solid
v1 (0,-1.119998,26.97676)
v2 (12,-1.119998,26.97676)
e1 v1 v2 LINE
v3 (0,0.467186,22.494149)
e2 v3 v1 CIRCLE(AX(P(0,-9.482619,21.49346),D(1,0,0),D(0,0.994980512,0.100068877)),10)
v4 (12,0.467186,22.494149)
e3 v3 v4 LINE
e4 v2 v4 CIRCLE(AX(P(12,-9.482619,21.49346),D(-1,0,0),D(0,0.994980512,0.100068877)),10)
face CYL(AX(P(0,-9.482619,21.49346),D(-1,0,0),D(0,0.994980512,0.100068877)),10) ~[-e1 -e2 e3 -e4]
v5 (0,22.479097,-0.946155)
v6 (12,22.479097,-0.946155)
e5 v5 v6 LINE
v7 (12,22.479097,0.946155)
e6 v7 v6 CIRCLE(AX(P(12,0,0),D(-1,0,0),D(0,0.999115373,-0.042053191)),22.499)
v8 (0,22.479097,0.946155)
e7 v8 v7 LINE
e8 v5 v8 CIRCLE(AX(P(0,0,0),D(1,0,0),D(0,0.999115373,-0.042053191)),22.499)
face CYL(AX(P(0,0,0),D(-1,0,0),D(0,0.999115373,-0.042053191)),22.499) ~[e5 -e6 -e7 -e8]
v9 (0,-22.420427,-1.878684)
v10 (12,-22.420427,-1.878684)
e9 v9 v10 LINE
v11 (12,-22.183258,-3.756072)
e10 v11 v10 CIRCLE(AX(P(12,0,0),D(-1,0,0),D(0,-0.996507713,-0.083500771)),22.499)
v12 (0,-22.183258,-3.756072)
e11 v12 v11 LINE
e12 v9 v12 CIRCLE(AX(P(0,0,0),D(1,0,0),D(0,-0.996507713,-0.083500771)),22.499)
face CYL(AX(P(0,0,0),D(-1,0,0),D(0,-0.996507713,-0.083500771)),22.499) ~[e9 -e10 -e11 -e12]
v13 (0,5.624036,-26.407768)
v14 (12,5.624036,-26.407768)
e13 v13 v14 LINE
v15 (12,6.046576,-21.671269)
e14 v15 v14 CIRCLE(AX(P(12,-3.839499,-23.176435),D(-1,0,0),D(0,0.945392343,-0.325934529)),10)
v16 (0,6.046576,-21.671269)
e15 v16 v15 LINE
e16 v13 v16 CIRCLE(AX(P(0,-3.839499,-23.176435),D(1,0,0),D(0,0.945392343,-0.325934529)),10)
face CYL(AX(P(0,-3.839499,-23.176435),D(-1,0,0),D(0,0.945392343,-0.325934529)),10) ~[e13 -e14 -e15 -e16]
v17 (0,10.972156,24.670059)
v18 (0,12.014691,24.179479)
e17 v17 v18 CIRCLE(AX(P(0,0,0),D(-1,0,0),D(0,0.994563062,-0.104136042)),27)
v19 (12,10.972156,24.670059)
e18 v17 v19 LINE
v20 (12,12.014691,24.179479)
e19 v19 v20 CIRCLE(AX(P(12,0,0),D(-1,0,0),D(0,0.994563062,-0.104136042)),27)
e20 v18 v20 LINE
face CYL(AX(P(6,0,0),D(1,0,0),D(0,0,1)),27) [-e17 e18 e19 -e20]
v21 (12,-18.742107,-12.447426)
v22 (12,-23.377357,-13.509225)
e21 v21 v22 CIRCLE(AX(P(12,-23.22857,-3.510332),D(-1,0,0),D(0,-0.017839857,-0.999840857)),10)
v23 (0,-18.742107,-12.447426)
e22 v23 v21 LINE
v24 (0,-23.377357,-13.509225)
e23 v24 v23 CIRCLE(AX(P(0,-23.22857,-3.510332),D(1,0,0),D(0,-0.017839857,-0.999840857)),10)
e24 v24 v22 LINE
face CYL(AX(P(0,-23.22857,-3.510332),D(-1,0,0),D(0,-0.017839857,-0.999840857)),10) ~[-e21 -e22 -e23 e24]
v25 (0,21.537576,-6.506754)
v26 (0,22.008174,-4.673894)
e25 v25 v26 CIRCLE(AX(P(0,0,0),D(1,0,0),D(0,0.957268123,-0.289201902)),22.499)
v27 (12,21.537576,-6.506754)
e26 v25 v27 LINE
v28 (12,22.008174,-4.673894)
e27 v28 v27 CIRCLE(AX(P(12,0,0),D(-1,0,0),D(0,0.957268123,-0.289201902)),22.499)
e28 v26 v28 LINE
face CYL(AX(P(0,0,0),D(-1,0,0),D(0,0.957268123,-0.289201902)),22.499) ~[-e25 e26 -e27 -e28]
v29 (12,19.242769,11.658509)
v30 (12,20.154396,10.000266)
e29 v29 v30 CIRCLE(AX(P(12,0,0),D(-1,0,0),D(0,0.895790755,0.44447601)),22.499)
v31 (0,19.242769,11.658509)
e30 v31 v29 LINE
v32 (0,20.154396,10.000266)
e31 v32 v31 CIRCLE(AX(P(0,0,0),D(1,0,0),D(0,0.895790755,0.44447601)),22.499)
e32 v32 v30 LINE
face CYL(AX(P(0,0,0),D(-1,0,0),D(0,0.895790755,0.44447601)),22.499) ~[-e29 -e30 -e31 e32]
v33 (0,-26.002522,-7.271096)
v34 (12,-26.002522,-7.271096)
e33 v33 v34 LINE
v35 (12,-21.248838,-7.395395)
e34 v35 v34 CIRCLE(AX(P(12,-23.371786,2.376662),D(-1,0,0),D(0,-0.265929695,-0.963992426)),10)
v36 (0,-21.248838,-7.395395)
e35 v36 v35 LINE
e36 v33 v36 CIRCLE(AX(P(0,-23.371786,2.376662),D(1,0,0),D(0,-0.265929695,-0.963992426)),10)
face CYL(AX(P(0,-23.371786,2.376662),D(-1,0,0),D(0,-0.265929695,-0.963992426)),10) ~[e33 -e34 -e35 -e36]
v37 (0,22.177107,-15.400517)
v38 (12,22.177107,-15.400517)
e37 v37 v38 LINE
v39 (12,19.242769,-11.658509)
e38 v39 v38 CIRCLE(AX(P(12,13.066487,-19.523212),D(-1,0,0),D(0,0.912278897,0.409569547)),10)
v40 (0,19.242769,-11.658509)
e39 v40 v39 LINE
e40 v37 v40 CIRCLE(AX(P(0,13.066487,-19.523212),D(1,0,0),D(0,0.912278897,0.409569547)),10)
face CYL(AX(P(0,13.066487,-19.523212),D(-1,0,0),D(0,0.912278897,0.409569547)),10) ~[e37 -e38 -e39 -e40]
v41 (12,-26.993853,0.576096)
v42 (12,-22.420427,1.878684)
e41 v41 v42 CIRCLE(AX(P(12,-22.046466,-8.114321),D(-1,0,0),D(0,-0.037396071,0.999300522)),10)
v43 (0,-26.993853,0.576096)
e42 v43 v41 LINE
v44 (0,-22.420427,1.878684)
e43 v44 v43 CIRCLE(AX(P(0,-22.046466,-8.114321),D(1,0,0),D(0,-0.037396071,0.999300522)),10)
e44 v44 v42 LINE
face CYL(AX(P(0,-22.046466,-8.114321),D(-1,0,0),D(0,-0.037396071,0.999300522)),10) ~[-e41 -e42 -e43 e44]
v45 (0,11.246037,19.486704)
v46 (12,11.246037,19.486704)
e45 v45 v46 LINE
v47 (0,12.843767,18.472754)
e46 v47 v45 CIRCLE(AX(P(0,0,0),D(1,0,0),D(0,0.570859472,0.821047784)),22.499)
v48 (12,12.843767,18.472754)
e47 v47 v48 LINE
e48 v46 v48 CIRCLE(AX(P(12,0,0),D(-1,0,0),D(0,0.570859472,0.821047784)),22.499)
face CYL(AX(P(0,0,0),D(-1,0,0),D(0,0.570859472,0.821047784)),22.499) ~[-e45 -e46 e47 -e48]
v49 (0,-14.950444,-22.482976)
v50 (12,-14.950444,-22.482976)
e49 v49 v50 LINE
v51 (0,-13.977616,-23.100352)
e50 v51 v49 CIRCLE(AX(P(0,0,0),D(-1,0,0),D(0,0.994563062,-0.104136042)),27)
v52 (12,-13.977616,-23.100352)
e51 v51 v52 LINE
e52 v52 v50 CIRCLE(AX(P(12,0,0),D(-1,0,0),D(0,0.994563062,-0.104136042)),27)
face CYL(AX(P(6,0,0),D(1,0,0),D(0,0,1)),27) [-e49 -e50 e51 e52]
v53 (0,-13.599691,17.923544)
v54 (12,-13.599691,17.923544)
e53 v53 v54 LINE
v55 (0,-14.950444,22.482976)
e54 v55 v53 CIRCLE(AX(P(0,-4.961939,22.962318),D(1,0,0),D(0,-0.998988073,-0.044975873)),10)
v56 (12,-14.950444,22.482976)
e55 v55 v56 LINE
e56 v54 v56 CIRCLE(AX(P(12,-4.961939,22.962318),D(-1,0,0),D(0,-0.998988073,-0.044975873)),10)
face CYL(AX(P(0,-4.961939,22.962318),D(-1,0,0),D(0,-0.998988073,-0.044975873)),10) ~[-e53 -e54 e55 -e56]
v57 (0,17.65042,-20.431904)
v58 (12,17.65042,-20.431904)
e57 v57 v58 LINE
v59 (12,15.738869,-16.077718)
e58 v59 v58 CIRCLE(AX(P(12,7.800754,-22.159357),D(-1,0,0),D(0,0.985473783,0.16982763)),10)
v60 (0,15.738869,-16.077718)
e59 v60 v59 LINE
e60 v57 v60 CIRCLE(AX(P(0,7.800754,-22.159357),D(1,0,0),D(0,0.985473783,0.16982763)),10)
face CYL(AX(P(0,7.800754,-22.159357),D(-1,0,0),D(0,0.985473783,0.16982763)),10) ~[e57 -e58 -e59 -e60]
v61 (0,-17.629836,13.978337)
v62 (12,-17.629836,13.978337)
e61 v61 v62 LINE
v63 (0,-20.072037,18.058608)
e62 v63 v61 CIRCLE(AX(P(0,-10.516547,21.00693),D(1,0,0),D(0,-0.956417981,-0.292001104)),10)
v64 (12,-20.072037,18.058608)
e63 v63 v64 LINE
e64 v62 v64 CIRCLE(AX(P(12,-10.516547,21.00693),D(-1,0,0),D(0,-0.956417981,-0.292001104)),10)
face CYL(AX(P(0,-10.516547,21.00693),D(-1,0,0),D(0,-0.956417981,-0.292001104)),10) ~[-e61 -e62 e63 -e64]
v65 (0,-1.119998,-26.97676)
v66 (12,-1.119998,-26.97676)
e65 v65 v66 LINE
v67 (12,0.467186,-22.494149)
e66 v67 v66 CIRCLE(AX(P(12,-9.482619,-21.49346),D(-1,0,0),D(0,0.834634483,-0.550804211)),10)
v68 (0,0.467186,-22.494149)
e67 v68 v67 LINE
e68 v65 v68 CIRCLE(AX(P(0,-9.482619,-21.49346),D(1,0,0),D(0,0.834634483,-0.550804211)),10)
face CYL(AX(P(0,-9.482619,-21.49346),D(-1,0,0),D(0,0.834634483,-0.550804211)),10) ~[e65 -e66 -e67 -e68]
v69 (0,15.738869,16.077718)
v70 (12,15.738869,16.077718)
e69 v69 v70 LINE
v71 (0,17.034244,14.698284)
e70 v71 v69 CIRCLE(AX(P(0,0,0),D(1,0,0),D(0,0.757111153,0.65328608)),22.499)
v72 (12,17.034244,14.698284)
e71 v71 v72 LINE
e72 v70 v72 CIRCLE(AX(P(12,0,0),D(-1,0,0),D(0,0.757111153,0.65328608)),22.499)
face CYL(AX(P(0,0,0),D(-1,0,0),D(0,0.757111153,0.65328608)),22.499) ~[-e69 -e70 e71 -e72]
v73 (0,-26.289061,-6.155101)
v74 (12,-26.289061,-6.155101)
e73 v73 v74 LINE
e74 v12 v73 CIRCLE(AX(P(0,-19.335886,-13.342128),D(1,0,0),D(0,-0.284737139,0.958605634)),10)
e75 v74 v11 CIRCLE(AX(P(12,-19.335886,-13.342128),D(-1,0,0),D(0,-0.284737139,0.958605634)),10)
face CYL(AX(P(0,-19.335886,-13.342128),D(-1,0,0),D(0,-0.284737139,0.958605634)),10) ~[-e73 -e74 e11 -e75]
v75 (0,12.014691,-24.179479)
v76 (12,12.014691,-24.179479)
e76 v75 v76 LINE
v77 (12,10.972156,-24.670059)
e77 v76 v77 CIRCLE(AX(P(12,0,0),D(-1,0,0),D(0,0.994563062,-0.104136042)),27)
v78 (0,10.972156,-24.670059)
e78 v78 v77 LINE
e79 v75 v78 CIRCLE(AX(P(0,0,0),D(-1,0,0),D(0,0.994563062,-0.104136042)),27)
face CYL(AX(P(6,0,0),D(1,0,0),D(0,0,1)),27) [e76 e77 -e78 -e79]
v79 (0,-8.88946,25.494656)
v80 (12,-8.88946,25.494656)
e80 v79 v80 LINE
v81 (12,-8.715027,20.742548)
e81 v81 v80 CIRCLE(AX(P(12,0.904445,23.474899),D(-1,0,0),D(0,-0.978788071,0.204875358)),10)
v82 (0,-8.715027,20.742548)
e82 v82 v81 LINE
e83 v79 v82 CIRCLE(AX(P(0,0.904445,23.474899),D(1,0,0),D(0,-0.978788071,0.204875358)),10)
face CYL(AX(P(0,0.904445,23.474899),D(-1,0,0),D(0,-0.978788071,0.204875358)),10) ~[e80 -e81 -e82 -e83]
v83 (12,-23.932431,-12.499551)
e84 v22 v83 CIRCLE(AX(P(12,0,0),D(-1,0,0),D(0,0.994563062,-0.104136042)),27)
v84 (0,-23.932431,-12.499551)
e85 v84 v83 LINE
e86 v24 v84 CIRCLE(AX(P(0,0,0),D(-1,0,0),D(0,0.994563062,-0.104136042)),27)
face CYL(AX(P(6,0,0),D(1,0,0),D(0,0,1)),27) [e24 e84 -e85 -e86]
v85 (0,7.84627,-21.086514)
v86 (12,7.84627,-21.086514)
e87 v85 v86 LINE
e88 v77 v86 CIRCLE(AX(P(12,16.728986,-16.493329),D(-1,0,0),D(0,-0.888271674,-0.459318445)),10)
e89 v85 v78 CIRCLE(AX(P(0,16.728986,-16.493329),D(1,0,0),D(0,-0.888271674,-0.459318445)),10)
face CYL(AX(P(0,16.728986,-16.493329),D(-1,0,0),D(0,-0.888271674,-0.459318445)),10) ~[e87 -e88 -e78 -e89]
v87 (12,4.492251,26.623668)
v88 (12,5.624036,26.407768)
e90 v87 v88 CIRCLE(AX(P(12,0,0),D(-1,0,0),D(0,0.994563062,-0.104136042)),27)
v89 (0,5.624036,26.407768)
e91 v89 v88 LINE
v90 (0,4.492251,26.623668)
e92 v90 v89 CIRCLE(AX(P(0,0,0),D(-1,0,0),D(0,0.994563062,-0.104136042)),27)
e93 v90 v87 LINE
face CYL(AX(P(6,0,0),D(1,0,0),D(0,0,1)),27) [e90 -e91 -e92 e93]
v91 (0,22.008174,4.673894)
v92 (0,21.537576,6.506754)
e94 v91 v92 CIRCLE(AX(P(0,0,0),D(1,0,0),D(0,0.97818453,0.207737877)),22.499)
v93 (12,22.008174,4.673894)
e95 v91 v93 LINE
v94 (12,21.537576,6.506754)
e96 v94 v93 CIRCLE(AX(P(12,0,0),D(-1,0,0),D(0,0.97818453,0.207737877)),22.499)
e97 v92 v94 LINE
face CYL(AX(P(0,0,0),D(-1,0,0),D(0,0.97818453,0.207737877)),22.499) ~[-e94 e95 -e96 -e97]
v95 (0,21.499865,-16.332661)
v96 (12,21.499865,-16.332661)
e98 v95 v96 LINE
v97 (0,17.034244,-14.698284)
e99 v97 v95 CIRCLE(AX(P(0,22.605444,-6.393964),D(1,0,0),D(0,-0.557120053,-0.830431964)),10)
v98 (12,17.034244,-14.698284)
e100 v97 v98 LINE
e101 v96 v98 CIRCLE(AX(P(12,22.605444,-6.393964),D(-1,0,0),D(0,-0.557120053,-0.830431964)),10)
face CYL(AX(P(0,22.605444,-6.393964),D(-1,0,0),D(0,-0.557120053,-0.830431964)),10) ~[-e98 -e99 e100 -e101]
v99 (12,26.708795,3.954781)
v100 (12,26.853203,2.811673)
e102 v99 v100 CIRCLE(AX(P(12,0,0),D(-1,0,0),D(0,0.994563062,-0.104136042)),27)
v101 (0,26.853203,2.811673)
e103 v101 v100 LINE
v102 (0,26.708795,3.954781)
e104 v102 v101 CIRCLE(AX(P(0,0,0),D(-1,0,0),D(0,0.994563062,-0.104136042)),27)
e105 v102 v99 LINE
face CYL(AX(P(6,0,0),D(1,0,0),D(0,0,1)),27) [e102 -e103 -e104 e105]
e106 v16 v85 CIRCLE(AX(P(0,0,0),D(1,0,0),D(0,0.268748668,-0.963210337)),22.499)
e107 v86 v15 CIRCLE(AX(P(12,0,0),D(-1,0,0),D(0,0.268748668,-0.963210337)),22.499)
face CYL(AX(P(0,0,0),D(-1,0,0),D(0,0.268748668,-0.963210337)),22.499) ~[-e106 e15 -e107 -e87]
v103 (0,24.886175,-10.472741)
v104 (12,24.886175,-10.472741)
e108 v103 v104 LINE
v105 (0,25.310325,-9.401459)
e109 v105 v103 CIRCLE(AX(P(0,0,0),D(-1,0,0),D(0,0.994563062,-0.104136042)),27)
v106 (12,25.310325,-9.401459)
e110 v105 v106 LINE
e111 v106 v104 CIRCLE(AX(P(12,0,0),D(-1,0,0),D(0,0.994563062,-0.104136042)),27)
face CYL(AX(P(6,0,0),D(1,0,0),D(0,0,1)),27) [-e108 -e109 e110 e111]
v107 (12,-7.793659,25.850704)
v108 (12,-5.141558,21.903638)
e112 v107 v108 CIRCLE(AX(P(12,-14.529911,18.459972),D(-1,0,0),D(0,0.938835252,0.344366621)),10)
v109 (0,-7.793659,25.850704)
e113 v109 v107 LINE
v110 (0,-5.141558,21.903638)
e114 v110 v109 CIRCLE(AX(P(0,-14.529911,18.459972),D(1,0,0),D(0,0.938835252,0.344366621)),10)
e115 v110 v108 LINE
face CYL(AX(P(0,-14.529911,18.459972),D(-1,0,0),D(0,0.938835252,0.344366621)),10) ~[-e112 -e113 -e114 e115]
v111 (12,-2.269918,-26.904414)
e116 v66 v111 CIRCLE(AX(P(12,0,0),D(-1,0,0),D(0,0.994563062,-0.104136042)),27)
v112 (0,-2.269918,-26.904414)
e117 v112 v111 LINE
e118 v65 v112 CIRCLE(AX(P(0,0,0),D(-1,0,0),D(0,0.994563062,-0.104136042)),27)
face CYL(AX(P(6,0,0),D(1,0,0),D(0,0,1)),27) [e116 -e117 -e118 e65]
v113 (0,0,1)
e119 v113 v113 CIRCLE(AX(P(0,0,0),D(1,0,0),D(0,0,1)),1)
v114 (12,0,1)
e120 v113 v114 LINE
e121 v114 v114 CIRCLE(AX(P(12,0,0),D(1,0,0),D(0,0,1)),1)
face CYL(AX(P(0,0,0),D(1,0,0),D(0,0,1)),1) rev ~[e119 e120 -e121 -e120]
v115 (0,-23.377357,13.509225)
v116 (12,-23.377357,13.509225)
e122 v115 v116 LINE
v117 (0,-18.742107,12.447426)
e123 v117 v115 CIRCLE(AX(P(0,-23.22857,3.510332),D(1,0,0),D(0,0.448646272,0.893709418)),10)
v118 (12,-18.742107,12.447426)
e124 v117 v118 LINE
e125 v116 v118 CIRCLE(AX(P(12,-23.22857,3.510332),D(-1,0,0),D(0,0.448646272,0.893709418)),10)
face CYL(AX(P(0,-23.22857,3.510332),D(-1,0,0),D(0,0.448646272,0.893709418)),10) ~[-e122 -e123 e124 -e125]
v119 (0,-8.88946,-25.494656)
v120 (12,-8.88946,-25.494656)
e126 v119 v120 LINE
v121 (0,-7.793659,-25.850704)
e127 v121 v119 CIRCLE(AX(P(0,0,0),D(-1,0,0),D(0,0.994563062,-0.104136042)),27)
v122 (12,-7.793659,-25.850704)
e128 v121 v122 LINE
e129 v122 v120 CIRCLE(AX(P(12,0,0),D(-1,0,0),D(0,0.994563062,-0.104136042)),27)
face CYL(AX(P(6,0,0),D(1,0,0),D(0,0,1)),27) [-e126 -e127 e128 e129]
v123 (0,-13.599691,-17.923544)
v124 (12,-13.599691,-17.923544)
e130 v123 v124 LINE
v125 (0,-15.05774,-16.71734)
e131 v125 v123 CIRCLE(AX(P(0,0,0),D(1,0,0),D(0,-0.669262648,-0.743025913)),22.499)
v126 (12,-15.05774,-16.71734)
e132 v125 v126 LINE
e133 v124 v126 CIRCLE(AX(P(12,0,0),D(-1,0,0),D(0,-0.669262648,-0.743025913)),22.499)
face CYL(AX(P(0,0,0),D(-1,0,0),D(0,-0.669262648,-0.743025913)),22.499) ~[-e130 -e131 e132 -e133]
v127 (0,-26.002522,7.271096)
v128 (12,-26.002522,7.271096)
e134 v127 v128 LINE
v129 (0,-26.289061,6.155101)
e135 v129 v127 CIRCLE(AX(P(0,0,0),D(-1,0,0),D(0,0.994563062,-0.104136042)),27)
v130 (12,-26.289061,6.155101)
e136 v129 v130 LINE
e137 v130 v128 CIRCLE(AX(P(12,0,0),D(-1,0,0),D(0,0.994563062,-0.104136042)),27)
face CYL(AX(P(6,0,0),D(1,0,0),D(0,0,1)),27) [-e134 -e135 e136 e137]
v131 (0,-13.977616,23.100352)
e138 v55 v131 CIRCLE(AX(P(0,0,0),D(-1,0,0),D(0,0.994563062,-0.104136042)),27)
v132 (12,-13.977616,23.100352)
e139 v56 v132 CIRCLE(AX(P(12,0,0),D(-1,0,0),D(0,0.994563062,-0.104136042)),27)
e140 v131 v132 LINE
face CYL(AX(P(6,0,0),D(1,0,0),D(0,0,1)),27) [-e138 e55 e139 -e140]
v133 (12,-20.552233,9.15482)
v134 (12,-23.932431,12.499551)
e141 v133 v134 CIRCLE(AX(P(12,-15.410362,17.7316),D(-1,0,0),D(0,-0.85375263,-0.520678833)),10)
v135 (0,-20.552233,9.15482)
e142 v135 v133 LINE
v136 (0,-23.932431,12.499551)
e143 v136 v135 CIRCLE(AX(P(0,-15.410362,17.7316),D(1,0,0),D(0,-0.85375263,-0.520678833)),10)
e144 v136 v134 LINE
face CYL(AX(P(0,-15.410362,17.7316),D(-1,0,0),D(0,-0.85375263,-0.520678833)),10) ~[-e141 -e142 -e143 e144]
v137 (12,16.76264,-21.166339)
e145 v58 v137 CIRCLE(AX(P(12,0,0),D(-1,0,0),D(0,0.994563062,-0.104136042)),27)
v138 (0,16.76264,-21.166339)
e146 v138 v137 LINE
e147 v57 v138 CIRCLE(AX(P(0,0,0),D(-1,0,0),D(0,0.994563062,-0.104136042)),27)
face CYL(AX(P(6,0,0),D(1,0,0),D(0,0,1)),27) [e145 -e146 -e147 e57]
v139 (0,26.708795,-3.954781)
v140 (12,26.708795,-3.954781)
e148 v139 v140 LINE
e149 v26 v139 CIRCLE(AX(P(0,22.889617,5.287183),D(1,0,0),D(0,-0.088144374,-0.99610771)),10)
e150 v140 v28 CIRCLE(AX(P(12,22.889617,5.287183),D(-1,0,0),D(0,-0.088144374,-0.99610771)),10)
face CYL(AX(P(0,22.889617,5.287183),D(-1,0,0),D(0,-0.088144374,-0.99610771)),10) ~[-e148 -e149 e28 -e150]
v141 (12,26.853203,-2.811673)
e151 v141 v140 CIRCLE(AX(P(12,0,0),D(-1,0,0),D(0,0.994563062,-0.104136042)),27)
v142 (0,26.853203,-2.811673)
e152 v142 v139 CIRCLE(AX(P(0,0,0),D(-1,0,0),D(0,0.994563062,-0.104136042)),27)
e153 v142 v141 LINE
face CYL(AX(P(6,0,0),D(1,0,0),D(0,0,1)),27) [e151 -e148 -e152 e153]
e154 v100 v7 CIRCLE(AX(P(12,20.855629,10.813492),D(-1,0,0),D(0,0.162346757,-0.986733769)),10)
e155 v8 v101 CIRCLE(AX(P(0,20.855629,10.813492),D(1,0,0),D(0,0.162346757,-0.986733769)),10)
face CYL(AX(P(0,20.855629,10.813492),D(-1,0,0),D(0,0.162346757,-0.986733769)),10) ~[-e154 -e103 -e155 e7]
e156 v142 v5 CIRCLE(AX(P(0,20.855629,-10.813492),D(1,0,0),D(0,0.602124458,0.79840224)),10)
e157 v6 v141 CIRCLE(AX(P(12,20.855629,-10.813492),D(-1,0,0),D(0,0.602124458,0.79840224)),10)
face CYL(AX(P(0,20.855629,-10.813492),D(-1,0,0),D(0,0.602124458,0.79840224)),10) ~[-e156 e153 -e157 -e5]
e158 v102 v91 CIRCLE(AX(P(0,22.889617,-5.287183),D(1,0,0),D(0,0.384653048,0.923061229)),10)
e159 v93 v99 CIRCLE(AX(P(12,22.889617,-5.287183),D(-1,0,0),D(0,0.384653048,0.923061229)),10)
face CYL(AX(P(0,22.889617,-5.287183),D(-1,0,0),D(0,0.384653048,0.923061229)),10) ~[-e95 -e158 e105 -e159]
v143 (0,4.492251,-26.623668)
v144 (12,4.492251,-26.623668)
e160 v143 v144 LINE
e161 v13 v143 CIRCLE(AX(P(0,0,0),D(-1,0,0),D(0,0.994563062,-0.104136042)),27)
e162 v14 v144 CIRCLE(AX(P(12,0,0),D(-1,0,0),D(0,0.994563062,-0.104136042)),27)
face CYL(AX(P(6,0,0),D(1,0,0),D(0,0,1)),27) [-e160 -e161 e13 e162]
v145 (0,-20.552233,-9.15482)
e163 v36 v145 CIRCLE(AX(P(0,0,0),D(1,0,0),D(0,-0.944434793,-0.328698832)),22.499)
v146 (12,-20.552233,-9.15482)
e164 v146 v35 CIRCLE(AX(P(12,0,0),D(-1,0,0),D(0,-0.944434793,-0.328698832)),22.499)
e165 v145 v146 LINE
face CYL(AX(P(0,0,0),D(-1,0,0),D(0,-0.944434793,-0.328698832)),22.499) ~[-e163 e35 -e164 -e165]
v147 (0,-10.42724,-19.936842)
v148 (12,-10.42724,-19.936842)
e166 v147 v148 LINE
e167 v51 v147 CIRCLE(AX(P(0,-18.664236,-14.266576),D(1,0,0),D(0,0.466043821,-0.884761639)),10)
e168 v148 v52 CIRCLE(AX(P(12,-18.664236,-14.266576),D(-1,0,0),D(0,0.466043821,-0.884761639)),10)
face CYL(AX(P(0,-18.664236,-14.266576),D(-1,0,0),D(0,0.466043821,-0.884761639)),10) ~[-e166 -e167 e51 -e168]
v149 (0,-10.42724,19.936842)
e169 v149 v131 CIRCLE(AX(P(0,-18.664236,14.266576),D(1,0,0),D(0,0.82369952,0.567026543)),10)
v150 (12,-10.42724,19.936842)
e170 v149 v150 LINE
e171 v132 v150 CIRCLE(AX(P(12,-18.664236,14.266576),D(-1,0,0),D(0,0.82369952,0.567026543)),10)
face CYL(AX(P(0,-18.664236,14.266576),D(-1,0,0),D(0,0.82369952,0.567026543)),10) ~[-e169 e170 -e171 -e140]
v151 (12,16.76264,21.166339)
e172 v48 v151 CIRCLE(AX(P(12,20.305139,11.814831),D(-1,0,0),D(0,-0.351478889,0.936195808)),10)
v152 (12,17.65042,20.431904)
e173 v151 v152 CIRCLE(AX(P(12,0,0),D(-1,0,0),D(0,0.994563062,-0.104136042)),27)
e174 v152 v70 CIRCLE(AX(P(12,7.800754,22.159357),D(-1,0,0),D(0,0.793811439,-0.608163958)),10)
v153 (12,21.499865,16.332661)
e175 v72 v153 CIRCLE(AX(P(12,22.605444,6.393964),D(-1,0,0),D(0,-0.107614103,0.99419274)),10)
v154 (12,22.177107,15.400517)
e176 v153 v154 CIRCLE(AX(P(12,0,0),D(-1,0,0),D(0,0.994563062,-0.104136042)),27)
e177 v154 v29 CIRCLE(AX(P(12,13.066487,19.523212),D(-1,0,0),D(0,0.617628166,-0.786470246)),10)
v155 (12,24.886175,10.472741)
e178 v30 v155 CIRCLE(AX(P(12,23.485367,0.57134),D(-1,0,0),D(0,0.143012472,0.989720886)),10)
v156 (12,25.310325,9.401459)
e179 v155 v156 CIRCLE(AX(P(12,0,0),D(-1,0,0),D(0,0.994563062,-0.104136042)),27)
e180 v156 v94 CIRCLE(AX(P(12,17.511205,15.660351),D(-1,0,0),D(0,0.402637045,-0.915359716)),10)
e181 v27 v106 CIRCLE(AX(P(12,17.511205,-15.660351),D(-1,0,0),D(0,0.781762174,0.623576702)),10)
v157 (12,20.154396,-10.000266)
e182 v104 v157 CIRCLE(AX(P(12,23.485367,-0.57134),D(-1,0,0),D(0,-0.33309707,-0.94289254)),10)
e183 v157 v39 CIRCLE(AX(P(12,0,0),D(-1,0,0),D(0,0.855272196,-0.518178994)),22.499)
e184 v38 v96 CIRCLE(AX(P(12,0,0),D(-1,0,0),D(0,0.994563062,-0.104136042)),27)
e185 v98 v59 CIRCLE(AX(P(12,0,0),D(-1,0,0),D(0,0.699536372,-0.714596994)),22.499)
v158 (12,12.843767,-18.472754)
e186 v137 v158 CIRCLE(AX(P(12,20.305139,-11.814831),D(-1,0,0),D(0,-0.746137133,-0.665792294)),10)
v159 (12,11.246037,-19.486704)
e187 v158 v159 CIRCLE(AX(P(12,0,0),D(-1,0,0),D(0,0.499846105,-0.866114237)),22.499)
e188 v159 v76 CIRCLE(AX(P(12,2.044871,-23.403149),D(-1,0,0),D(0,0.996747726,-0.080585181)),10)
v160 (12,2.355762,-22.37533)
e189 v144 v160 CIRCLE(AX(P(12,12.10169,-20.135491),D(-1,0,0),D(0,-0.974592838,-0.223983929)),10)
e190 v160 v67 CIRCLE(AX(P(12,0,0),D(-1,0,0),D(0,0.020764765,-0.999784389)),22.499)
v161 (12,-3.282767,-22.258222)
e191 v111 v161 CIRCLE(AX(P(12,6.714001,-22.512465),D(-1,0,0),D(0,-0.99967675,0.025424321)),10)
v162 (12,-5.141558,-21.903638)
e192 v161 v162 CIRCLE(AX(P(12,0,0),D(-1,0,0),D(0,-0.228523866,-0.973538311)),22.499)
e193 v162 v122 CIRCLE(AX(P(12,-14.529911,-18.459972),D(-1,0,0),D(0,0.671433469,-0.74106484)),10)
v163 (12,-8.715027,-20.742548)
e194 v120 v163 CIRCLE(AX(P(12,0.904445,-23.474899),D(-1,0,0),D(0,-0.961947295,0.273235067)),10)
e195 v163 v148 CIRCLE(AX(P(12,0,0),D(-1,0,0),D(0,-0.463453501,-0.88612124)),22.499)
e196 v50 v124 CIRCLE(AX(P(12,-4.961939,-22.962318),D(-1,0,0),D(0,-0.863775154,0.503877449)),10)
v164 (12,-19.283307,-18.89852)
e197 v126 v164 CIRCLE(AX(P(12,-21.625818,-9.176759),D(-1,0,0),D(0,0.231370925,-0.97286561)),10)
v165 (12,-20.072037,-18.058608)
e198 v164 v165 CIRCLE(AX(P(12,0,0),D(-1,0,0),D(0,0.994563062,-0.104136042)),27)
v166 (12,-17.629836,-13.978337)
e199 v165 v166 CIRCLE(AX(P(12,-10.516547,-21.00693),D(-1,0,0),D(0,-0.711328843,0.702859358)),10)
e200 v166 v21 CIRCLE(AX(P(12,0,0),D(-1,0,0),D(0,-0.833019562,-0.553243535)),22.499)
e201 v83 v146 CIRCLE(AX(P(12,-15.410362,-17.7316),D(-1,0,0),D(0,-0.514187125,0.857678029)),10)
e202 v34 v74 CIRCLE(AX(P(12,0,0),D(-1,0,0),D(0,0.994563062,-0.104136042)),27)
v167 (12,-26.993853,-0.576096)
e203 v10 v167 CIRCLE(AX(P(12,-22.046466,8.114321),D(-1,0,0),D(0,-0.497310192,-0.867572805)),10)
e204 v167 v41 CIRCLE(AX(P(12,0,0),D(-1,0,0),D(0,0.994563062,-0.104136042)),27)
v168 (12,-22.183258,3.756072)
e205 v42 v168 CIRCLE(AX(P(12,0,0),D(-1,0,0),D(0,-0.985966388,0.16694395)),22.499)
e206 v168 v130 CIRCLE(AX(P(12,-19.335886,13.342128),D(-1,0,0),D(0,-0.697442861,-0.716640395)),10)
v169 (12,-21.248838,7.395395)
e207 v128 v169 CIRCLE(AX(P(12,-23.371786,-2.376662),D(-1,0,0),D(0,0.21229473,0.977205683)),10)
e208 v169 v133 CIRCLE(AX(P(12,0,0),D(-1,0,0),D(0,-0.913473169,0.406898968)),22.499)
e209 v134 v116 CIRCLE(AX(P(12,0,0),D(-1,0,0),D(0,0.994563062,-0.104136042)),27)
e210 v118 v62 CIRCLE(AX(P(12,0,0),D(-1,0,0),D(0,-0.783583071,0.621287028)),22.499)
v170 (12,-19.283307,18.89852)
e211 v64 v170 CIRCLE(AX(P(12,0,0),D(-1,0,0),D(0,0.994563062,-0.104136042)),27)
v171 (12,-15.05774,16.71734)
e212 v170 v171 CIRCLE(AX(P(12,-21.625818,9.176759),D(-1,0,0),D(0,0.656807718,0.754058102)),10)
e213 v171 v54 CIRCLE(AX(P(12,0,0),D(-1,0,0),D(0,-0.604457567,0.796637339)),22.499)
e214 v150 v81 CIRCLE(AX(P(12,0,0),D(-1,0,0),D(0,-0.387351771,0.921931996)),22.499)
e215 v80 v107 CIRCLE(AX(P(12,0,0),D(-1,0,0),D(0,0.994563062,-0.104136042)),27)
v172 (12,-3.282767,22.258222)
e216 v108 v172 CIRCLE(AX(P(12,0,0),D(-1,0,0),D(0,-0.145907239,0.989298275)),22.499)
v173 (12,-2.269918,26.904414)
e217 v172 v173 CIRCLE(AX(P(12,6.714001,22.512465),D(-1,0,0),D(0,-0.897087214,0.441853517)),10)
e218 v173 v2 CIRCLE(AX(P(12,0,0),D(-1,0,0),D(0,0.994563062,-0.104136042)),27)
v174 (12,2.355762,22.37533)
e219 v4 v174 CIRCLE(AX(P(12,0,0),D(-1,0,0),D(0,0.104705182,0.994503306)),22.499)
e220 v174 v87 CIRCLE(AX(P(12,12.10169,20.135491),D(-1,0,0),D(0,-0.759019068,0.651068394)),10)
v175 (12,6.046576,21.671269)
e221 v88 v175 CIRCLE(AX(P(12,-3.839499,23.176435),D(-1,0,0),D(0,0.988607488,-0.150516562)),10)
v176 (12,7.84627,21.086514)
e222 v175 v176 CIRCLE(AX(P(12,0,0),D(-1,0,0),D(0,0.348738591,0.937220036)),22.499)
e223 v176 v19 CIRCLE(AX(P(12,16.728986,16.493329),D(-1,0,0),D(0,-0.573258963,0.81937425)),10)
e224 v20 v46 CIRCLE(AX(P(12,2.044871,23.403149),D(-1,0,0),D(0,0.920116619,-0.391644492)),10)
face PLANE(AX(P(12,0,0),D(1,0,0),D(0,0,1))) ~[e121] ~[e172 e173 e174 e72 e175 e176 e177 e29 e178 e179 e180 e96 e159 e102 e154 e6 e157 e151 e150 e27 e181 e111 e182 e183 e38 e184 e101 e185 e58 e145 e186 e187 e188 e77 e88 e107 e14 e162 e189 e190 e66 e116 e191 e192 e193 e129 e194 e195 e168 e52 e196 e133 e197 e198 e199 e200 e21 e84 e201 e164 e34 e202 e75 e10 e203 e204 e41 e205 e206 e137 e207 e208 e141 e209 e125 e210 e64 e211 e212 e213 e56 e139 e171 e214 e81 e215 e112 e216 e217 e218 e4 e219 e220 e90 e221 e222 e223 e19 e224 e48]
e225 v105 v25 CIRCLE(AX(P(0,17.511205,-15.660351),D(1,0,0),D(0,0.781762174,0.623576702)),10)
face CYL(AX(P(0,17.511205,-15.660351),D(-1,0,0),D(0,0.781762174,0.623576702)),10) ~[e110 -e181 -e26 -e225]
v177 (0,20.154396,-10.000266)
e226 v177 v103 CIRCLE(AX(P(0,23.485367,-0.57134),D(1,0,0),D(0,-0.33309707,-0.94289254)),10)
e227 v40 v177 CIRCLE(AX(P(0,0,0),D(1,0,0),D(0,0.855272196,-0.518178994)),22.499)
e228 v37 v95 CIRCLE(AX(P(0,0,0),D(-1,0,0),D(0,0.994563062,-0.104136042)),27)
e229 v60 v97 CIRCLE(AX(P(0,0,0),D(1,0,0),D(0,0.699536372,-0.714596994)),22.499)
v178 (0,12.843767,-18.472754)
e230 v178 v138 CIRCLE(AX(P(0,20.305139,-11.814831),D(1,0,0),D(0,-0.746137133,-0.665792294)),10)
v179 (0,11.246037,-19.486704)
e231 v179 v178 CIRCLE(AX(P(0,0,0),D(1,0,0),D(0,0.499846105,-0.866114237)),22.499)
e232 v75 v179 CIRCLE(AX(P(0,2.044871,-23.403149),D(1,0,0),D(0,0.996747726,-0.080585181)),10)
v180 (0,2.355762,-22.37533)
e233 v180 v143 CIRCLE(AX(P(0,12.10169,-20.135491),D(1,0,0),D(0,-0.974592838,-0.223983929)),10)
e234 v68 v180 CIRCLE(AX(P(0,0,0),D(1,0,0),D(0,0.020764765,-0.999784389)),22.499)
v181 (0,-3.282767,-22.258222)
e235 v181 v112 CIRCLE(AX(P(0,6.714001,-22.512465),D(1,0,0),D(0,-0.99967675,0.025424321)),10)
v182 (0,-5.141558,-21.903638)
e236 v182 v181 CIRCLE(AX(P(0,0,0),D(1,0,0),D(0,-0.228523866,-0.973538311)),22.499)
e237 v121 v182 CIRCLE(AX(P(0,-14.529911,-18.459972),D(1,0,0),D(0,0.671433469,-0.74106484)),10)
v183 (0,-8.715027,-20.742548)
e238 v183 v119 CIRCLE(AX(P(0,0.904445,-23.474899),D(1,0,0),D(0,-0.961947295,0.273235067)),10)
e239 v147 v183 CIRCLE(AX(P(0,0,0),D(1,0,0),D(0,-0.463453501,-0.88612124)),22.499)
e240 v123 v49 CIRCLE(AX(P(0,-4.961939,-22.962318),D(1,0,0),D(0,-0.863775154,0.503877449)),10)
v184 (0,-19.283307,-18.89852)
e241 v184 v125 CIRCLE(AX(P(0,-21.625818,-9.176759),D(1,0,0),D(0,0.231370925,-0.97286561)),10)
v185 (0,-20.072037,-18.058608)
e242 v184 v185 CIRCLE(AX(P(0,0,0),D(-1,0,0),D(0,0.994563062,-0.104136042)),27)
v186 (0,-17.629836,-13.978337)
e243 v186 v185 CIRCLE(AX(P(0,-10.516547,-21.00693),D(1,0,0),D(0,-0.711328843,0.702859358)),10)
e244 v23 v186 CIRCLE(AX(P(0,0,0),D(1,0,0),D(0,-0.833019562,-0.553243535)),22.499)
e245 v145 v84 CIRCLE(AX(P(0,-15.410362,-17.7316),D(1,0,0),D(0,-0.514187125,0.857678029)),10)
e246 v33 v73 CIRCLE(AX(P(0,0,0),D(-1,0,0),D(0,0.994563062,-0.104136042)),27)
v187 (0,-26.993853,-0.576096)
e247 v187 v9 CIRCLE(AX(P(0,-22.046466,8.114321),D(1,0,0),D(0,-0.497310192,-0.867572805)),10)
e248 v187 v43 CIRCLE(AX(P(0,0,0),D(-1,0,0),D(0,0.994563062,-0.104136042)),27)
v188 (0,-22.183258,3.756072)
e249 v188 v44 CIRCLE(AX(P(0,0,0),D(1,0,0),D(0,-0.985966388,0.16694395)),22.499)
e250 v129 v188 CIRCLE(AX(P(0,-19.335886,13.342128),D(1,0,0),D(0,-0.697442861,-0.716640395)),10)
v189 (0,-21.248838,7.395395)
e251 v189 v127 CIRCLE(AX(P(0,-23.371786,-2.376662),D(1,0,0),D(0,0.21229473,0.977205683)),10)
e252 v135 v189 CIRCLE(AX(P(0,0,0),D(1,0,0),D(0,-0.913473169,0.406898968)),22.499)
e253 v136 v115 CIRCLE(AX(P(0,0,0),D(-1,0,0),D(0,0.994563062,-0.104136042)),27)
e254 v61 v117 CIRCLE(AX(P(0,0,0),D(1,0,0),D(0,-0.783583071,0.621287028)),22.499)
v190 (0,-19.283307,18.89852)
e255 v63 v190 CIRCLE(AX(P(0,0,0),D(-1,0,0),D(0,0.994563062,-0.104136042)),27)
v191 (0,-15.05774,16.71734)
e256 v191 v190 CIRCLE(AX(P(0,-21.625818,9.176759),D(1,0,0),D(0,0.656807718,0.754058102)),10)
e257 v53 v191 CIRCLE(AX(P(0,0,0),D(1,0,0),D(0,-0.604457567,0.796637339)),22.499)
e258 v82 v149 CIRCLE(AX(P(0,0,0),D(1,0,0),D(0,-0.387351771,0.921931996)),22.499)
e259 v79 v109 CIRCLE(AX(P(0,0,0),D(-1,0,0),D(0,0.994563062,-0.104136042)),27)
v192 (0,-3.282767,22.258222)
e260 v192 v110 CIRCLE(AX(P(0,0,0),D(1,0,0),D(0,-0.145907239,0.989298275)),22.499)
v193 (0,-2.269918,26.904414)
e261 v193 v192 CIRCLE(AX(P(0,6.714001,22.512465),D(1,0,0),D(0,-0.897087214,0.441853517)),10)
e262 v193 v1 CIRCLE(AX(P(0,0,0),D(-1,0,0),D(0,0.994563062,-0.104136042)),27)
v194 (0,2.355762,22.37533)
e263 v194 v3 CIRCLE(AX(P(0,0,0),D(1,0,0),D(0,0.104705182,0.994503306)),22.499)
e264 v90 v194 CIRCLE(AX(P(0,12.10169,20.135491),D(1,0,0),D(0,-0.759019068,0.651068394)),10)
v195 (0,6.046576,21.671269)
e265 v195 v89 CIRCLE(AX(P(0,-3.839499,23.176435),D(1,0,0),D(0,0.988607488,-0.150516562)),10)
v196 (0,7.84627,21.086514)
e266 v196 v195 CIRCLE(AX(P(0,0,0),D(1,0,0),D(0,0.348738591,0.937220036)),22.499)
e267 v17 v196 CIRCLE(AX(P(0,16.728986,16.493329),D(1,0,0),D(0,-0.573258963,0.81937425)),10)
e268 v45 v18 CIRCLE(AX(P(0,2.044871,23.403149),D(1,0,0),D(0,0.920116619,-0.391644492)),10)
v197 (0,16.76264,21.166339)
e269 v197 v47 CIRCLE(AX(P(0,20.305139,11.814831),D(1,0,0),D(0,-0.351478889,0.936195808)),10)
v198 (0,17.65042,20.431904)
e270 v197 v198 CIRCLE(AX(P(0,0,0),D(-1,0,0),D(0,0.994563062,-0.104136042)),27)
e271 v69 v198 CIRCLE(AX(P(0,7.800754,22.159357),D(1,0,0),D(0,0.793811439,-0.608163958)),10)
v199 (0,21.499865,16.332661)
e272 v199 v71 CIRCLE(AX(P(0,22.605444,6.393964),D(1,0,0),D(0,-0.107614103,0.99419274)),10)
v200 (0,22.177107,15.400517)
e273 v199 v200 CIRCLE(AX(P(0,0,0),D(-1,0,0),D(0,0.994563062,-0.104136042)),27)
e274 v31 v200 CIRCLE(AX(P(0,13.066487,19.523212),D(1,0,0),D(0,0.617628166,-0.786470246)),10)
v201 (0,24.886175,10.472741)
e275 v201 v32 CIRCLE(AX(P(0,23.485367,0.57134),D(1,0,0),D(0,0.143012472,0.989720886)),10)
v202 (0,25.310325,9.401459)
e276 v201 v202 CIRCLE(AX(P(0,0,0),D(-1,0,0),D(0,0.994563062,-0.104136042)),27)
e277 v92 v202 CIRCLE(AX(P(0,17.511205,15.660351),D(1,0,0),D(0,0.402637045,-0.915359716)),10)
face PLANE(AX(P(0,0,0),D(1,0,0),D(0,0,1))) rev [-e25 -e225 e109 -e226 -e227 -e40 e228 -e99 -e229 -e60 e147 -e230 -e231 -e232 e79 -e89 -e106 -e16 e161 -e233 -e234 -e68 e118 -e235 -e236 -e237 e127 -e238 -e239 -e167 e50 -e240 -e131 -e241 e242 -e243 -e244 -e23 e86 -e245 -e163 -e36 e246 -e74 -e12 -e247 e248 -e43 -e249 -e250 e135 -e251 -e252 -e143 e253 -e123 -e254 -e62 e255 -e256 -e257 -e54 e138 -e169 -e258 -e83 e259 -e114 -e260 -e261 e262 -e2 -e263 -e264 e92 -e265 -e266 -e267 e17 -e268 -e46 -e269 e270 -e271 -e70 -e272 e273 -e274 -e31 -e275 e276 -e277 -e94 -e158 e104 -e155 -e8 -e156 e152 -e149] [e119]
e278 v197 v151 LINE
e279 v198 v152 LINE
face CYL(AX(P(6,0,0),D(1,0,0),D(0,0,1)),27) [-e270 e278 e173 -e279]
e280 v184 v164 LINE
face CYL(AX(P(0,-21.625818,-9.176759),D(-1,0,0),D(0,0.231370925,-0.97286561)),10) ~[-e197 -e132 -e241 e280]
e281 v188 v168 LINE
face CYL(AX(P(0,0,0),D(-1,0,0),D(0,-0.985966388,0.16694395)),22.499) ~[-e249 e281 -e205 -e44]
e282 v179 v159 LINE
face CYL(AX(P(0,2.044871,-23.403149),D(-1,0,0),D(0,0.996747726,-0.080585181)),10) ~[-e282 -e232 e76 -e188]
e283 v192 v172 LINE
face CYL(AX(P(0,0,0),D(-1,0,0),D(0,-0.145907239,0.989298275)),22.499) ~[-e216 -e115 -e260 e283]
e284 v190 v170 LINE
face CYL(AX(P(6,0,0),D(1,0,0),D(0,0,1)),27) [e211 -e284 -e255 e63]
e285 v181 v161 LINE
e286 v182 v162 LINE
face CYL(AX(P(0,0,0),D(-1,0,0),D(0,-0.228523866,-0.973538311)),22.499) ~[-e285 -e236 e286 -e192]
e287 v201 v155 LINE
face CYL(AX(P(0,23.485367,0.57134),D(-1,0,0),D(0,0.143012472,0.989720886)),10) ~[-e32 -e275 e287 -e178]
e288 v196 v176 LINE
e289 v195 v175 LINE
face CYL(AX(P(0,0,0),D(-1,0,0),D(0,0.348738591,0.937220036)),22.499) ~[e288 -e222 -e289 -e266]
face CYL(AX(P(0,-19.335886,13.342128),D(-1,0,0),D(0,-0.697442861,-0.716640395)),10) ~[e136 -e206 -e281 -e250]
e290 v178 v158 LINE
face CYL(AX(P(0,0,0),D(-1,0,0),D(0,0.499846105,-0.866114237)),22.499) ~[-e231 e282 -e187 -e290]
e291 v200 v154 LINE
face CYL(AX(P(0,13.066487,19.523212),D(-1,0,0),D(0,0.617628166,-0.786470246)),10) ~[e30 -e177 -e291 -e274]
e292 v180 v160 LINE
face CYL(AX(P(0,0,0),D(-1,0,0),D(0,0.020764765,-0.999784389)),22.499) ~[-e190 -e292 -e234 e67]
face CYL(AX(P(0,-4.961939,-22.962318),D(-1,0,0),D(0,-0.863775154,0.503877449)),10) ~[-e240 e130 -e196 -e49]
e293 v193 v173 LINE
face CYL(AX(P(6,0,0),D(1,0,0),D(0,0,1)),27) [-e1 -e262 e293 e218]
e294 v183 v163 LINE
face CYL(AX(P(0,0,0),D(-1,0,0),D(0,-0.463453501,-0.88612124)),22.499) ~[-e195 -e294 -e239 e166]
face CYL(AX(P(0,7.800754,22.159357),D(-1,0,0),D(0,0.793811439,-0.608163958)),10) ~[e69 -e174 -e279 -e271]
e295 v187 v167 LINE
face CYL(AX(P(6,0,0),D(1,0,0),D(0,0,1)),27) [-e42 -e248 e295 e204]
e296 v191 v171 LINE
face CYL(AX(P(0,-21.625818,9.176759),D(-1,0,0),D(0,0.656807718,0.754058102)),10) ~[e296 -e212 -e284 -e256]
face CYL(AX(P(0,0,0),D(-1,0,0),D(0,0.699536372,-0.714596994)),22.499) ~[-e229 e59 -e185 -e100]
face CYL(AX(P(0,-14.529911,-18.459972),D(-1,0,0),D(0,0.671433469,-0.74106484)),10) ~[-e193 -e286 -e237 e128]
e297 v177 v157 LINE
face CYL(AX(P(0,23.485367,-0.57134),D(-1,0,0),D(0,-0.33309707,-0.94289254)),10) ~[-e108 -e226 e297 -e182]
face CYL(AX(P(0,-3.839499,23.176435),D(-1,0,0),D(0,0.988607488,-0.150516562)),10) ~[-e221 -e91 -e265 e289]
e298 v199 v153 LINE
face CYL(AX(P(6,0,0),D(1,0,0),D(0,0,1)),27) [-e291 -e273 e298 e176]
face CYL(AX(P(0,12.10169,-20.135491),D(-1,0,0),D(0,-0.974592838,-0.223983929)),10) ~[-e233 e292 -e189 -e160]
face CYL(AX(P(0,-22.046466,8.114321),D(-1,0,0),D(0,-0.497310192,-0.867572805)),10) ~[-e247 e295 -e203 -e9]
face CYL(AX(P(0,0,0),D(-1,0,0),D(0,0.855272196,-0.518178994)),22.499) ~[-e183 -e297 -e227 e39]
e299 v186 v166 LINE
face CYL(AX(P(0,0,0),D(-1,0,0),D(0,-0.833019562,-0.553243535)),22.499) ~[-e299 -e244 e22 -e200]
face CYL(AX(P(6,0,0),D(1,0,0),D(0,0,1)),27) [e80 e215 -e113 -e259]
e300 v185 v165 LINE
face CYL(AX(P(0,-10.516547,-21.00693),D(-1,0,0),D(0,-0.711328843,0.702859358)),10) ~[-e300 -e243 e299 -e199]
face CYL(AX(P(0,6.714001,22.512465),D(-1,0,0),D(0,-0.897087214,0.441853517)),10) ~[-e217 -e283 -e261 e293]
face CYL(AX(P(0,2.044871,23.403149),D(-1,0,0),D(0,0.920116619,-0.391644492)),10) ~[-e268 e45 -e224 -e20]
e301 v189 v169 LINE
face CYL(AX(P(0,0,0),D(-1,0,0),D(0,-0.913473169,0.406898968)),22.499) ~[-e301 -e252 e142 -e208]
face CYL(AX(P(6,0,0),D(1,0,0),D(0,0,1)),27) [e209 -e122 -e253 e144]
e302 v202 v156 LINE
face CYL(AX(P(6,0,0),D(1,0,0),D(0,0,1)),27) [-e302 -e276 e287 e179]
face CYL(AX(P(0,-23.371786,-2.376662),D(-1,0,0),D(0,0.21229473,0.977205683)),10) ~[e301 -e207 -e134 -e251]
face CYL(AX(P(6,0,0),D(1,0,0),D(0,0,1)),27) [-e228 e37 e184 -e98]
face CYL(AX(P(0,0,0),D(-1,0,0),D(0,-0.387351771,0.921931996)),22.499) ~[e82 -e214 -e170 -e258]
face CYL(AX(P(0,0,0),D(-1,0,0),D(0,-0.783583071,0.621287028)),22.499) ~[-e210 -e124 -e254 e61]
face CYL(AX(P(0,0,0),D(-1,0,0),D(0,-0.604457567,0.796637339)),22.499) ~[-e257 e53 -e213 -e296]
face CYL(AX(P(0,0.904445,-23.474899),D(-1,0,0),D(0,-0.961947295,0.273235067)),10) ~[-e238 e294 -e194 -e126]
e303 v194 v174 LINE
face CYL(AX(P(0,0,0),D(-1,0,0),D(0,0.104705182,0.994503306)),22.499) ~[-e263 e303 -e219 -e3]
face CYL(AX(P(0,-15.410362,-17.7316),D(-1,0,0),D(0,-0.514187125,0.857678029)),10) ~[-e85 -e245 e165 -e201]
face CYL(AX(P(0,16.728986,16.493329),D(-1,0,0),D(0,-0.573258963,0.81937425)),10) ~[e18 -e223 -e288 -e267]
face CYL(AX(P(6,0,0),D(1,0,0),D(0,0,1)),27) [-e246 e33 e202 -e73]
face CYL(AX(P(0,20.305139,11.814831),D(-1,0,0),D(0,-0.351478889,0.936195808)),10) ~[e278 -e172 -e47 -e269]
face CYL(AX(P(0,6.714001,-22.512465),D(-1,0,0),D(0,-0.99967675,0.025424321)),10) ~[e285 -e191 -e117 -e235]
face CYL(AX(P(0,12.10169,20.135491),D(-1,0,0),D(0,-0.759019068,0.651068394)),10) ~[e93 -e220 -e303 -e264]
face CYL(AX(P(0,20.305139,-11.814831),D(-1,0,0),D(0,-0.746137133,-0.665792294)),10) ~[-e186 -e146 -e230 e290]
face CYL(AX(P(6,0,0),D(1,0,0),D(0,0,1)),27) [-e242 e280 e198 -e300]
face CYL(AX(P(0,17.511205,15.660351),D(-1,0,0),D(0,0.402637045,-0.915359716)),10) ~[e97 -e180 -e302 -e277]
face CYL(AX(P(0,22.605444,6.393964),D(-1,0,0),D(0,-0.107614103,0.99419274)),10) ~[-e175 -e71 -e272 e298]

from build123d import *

# Parameters (mm, degrees)
BASPROSKE_W     = 12
BASPROSKE_H     = 27
TOOTHCUT_DEPTH  = 41.024992192
TEETHCUTS_COUNT = 25
TEETHCUTS_ANGLE = 345.6
BORSKE_R        = 1
BORE_DEPTH      = 50.0000508


with BuildPart() as part:
    # BasProSke → Base-Revolve (revolve)
    with BuildSketch(Plane(origin=(0, 0, 0), x_dir=(1, 0, 0), z_dir=(0, 1, 0)), mode=Mode.PRIVATE) as base_revolve_sk:
        with Locations((6, 13.5)):
            Rectangle(BASPROSKE_W, BASPROSKE_H)
    revolve(base_revolve_sk.sketch.rotate(Axis((-10, 0, 0), (1, 0, 0)), 180), axis=Axis((-10, 0, 0), (1, 0, 0)))

    # TooCutSke → ToothCut (cut, through all)
    with BuildSketch(Plane(origin=(0, 0, 0), x_dir=(0, 0, -1), z_dir=(1, 0, 0))):
        with BuildLine():
            ThreePointArc((0.946154762, 22.479096783), (0, 22.499), (-0.946154762, 22.479096783))
            ThreePointArc((-0.946154762, 22.479096783), (-1.62094792, 24.792268013), (-2.829470045, 26.876873784))
            ThreePointArc((-2.829470045, 26.876873784), (0, 27.0254), (2.829470045, 26.876873784))
            ThreePointArc((2.829470045, 26.876873784), (1.62094792, 24.792268013), (0.946154762, 22.479096783))
        make_face()
    toothcut = extrude(amount=TOOTHCUT_DEPTH, mode=Mode.SUBTRACT)

    # TeethCuts: ToothCut ×25 about axis
    teethcuts_axis = Axis((-10, 0, 0), (1, 0, 0))
    for i in range(1, TEETHCUTS_COUNT):
        add(toothcut.rotate(teethcuts_axis, i * TEETHCUTS_ANGLE / (TEETHCUTS_COUNT - 1)), mode=Mode.SUBTRACT)

    # BorSke → Bore (cut, symmetric)
    with BuildSketch(Plane(origin=(0, 0, 0), x_dir=(0, 0, -1), z_dir=(1, 0, 0))):
        with Locations(Location((0, 0, 0), (0, 0, 180))):
            Circle(BORSKE_R)
    extrude(amount=BORE_DEPTH, both=True, mode=Mode.SUBTRACT)


solid = part.part
